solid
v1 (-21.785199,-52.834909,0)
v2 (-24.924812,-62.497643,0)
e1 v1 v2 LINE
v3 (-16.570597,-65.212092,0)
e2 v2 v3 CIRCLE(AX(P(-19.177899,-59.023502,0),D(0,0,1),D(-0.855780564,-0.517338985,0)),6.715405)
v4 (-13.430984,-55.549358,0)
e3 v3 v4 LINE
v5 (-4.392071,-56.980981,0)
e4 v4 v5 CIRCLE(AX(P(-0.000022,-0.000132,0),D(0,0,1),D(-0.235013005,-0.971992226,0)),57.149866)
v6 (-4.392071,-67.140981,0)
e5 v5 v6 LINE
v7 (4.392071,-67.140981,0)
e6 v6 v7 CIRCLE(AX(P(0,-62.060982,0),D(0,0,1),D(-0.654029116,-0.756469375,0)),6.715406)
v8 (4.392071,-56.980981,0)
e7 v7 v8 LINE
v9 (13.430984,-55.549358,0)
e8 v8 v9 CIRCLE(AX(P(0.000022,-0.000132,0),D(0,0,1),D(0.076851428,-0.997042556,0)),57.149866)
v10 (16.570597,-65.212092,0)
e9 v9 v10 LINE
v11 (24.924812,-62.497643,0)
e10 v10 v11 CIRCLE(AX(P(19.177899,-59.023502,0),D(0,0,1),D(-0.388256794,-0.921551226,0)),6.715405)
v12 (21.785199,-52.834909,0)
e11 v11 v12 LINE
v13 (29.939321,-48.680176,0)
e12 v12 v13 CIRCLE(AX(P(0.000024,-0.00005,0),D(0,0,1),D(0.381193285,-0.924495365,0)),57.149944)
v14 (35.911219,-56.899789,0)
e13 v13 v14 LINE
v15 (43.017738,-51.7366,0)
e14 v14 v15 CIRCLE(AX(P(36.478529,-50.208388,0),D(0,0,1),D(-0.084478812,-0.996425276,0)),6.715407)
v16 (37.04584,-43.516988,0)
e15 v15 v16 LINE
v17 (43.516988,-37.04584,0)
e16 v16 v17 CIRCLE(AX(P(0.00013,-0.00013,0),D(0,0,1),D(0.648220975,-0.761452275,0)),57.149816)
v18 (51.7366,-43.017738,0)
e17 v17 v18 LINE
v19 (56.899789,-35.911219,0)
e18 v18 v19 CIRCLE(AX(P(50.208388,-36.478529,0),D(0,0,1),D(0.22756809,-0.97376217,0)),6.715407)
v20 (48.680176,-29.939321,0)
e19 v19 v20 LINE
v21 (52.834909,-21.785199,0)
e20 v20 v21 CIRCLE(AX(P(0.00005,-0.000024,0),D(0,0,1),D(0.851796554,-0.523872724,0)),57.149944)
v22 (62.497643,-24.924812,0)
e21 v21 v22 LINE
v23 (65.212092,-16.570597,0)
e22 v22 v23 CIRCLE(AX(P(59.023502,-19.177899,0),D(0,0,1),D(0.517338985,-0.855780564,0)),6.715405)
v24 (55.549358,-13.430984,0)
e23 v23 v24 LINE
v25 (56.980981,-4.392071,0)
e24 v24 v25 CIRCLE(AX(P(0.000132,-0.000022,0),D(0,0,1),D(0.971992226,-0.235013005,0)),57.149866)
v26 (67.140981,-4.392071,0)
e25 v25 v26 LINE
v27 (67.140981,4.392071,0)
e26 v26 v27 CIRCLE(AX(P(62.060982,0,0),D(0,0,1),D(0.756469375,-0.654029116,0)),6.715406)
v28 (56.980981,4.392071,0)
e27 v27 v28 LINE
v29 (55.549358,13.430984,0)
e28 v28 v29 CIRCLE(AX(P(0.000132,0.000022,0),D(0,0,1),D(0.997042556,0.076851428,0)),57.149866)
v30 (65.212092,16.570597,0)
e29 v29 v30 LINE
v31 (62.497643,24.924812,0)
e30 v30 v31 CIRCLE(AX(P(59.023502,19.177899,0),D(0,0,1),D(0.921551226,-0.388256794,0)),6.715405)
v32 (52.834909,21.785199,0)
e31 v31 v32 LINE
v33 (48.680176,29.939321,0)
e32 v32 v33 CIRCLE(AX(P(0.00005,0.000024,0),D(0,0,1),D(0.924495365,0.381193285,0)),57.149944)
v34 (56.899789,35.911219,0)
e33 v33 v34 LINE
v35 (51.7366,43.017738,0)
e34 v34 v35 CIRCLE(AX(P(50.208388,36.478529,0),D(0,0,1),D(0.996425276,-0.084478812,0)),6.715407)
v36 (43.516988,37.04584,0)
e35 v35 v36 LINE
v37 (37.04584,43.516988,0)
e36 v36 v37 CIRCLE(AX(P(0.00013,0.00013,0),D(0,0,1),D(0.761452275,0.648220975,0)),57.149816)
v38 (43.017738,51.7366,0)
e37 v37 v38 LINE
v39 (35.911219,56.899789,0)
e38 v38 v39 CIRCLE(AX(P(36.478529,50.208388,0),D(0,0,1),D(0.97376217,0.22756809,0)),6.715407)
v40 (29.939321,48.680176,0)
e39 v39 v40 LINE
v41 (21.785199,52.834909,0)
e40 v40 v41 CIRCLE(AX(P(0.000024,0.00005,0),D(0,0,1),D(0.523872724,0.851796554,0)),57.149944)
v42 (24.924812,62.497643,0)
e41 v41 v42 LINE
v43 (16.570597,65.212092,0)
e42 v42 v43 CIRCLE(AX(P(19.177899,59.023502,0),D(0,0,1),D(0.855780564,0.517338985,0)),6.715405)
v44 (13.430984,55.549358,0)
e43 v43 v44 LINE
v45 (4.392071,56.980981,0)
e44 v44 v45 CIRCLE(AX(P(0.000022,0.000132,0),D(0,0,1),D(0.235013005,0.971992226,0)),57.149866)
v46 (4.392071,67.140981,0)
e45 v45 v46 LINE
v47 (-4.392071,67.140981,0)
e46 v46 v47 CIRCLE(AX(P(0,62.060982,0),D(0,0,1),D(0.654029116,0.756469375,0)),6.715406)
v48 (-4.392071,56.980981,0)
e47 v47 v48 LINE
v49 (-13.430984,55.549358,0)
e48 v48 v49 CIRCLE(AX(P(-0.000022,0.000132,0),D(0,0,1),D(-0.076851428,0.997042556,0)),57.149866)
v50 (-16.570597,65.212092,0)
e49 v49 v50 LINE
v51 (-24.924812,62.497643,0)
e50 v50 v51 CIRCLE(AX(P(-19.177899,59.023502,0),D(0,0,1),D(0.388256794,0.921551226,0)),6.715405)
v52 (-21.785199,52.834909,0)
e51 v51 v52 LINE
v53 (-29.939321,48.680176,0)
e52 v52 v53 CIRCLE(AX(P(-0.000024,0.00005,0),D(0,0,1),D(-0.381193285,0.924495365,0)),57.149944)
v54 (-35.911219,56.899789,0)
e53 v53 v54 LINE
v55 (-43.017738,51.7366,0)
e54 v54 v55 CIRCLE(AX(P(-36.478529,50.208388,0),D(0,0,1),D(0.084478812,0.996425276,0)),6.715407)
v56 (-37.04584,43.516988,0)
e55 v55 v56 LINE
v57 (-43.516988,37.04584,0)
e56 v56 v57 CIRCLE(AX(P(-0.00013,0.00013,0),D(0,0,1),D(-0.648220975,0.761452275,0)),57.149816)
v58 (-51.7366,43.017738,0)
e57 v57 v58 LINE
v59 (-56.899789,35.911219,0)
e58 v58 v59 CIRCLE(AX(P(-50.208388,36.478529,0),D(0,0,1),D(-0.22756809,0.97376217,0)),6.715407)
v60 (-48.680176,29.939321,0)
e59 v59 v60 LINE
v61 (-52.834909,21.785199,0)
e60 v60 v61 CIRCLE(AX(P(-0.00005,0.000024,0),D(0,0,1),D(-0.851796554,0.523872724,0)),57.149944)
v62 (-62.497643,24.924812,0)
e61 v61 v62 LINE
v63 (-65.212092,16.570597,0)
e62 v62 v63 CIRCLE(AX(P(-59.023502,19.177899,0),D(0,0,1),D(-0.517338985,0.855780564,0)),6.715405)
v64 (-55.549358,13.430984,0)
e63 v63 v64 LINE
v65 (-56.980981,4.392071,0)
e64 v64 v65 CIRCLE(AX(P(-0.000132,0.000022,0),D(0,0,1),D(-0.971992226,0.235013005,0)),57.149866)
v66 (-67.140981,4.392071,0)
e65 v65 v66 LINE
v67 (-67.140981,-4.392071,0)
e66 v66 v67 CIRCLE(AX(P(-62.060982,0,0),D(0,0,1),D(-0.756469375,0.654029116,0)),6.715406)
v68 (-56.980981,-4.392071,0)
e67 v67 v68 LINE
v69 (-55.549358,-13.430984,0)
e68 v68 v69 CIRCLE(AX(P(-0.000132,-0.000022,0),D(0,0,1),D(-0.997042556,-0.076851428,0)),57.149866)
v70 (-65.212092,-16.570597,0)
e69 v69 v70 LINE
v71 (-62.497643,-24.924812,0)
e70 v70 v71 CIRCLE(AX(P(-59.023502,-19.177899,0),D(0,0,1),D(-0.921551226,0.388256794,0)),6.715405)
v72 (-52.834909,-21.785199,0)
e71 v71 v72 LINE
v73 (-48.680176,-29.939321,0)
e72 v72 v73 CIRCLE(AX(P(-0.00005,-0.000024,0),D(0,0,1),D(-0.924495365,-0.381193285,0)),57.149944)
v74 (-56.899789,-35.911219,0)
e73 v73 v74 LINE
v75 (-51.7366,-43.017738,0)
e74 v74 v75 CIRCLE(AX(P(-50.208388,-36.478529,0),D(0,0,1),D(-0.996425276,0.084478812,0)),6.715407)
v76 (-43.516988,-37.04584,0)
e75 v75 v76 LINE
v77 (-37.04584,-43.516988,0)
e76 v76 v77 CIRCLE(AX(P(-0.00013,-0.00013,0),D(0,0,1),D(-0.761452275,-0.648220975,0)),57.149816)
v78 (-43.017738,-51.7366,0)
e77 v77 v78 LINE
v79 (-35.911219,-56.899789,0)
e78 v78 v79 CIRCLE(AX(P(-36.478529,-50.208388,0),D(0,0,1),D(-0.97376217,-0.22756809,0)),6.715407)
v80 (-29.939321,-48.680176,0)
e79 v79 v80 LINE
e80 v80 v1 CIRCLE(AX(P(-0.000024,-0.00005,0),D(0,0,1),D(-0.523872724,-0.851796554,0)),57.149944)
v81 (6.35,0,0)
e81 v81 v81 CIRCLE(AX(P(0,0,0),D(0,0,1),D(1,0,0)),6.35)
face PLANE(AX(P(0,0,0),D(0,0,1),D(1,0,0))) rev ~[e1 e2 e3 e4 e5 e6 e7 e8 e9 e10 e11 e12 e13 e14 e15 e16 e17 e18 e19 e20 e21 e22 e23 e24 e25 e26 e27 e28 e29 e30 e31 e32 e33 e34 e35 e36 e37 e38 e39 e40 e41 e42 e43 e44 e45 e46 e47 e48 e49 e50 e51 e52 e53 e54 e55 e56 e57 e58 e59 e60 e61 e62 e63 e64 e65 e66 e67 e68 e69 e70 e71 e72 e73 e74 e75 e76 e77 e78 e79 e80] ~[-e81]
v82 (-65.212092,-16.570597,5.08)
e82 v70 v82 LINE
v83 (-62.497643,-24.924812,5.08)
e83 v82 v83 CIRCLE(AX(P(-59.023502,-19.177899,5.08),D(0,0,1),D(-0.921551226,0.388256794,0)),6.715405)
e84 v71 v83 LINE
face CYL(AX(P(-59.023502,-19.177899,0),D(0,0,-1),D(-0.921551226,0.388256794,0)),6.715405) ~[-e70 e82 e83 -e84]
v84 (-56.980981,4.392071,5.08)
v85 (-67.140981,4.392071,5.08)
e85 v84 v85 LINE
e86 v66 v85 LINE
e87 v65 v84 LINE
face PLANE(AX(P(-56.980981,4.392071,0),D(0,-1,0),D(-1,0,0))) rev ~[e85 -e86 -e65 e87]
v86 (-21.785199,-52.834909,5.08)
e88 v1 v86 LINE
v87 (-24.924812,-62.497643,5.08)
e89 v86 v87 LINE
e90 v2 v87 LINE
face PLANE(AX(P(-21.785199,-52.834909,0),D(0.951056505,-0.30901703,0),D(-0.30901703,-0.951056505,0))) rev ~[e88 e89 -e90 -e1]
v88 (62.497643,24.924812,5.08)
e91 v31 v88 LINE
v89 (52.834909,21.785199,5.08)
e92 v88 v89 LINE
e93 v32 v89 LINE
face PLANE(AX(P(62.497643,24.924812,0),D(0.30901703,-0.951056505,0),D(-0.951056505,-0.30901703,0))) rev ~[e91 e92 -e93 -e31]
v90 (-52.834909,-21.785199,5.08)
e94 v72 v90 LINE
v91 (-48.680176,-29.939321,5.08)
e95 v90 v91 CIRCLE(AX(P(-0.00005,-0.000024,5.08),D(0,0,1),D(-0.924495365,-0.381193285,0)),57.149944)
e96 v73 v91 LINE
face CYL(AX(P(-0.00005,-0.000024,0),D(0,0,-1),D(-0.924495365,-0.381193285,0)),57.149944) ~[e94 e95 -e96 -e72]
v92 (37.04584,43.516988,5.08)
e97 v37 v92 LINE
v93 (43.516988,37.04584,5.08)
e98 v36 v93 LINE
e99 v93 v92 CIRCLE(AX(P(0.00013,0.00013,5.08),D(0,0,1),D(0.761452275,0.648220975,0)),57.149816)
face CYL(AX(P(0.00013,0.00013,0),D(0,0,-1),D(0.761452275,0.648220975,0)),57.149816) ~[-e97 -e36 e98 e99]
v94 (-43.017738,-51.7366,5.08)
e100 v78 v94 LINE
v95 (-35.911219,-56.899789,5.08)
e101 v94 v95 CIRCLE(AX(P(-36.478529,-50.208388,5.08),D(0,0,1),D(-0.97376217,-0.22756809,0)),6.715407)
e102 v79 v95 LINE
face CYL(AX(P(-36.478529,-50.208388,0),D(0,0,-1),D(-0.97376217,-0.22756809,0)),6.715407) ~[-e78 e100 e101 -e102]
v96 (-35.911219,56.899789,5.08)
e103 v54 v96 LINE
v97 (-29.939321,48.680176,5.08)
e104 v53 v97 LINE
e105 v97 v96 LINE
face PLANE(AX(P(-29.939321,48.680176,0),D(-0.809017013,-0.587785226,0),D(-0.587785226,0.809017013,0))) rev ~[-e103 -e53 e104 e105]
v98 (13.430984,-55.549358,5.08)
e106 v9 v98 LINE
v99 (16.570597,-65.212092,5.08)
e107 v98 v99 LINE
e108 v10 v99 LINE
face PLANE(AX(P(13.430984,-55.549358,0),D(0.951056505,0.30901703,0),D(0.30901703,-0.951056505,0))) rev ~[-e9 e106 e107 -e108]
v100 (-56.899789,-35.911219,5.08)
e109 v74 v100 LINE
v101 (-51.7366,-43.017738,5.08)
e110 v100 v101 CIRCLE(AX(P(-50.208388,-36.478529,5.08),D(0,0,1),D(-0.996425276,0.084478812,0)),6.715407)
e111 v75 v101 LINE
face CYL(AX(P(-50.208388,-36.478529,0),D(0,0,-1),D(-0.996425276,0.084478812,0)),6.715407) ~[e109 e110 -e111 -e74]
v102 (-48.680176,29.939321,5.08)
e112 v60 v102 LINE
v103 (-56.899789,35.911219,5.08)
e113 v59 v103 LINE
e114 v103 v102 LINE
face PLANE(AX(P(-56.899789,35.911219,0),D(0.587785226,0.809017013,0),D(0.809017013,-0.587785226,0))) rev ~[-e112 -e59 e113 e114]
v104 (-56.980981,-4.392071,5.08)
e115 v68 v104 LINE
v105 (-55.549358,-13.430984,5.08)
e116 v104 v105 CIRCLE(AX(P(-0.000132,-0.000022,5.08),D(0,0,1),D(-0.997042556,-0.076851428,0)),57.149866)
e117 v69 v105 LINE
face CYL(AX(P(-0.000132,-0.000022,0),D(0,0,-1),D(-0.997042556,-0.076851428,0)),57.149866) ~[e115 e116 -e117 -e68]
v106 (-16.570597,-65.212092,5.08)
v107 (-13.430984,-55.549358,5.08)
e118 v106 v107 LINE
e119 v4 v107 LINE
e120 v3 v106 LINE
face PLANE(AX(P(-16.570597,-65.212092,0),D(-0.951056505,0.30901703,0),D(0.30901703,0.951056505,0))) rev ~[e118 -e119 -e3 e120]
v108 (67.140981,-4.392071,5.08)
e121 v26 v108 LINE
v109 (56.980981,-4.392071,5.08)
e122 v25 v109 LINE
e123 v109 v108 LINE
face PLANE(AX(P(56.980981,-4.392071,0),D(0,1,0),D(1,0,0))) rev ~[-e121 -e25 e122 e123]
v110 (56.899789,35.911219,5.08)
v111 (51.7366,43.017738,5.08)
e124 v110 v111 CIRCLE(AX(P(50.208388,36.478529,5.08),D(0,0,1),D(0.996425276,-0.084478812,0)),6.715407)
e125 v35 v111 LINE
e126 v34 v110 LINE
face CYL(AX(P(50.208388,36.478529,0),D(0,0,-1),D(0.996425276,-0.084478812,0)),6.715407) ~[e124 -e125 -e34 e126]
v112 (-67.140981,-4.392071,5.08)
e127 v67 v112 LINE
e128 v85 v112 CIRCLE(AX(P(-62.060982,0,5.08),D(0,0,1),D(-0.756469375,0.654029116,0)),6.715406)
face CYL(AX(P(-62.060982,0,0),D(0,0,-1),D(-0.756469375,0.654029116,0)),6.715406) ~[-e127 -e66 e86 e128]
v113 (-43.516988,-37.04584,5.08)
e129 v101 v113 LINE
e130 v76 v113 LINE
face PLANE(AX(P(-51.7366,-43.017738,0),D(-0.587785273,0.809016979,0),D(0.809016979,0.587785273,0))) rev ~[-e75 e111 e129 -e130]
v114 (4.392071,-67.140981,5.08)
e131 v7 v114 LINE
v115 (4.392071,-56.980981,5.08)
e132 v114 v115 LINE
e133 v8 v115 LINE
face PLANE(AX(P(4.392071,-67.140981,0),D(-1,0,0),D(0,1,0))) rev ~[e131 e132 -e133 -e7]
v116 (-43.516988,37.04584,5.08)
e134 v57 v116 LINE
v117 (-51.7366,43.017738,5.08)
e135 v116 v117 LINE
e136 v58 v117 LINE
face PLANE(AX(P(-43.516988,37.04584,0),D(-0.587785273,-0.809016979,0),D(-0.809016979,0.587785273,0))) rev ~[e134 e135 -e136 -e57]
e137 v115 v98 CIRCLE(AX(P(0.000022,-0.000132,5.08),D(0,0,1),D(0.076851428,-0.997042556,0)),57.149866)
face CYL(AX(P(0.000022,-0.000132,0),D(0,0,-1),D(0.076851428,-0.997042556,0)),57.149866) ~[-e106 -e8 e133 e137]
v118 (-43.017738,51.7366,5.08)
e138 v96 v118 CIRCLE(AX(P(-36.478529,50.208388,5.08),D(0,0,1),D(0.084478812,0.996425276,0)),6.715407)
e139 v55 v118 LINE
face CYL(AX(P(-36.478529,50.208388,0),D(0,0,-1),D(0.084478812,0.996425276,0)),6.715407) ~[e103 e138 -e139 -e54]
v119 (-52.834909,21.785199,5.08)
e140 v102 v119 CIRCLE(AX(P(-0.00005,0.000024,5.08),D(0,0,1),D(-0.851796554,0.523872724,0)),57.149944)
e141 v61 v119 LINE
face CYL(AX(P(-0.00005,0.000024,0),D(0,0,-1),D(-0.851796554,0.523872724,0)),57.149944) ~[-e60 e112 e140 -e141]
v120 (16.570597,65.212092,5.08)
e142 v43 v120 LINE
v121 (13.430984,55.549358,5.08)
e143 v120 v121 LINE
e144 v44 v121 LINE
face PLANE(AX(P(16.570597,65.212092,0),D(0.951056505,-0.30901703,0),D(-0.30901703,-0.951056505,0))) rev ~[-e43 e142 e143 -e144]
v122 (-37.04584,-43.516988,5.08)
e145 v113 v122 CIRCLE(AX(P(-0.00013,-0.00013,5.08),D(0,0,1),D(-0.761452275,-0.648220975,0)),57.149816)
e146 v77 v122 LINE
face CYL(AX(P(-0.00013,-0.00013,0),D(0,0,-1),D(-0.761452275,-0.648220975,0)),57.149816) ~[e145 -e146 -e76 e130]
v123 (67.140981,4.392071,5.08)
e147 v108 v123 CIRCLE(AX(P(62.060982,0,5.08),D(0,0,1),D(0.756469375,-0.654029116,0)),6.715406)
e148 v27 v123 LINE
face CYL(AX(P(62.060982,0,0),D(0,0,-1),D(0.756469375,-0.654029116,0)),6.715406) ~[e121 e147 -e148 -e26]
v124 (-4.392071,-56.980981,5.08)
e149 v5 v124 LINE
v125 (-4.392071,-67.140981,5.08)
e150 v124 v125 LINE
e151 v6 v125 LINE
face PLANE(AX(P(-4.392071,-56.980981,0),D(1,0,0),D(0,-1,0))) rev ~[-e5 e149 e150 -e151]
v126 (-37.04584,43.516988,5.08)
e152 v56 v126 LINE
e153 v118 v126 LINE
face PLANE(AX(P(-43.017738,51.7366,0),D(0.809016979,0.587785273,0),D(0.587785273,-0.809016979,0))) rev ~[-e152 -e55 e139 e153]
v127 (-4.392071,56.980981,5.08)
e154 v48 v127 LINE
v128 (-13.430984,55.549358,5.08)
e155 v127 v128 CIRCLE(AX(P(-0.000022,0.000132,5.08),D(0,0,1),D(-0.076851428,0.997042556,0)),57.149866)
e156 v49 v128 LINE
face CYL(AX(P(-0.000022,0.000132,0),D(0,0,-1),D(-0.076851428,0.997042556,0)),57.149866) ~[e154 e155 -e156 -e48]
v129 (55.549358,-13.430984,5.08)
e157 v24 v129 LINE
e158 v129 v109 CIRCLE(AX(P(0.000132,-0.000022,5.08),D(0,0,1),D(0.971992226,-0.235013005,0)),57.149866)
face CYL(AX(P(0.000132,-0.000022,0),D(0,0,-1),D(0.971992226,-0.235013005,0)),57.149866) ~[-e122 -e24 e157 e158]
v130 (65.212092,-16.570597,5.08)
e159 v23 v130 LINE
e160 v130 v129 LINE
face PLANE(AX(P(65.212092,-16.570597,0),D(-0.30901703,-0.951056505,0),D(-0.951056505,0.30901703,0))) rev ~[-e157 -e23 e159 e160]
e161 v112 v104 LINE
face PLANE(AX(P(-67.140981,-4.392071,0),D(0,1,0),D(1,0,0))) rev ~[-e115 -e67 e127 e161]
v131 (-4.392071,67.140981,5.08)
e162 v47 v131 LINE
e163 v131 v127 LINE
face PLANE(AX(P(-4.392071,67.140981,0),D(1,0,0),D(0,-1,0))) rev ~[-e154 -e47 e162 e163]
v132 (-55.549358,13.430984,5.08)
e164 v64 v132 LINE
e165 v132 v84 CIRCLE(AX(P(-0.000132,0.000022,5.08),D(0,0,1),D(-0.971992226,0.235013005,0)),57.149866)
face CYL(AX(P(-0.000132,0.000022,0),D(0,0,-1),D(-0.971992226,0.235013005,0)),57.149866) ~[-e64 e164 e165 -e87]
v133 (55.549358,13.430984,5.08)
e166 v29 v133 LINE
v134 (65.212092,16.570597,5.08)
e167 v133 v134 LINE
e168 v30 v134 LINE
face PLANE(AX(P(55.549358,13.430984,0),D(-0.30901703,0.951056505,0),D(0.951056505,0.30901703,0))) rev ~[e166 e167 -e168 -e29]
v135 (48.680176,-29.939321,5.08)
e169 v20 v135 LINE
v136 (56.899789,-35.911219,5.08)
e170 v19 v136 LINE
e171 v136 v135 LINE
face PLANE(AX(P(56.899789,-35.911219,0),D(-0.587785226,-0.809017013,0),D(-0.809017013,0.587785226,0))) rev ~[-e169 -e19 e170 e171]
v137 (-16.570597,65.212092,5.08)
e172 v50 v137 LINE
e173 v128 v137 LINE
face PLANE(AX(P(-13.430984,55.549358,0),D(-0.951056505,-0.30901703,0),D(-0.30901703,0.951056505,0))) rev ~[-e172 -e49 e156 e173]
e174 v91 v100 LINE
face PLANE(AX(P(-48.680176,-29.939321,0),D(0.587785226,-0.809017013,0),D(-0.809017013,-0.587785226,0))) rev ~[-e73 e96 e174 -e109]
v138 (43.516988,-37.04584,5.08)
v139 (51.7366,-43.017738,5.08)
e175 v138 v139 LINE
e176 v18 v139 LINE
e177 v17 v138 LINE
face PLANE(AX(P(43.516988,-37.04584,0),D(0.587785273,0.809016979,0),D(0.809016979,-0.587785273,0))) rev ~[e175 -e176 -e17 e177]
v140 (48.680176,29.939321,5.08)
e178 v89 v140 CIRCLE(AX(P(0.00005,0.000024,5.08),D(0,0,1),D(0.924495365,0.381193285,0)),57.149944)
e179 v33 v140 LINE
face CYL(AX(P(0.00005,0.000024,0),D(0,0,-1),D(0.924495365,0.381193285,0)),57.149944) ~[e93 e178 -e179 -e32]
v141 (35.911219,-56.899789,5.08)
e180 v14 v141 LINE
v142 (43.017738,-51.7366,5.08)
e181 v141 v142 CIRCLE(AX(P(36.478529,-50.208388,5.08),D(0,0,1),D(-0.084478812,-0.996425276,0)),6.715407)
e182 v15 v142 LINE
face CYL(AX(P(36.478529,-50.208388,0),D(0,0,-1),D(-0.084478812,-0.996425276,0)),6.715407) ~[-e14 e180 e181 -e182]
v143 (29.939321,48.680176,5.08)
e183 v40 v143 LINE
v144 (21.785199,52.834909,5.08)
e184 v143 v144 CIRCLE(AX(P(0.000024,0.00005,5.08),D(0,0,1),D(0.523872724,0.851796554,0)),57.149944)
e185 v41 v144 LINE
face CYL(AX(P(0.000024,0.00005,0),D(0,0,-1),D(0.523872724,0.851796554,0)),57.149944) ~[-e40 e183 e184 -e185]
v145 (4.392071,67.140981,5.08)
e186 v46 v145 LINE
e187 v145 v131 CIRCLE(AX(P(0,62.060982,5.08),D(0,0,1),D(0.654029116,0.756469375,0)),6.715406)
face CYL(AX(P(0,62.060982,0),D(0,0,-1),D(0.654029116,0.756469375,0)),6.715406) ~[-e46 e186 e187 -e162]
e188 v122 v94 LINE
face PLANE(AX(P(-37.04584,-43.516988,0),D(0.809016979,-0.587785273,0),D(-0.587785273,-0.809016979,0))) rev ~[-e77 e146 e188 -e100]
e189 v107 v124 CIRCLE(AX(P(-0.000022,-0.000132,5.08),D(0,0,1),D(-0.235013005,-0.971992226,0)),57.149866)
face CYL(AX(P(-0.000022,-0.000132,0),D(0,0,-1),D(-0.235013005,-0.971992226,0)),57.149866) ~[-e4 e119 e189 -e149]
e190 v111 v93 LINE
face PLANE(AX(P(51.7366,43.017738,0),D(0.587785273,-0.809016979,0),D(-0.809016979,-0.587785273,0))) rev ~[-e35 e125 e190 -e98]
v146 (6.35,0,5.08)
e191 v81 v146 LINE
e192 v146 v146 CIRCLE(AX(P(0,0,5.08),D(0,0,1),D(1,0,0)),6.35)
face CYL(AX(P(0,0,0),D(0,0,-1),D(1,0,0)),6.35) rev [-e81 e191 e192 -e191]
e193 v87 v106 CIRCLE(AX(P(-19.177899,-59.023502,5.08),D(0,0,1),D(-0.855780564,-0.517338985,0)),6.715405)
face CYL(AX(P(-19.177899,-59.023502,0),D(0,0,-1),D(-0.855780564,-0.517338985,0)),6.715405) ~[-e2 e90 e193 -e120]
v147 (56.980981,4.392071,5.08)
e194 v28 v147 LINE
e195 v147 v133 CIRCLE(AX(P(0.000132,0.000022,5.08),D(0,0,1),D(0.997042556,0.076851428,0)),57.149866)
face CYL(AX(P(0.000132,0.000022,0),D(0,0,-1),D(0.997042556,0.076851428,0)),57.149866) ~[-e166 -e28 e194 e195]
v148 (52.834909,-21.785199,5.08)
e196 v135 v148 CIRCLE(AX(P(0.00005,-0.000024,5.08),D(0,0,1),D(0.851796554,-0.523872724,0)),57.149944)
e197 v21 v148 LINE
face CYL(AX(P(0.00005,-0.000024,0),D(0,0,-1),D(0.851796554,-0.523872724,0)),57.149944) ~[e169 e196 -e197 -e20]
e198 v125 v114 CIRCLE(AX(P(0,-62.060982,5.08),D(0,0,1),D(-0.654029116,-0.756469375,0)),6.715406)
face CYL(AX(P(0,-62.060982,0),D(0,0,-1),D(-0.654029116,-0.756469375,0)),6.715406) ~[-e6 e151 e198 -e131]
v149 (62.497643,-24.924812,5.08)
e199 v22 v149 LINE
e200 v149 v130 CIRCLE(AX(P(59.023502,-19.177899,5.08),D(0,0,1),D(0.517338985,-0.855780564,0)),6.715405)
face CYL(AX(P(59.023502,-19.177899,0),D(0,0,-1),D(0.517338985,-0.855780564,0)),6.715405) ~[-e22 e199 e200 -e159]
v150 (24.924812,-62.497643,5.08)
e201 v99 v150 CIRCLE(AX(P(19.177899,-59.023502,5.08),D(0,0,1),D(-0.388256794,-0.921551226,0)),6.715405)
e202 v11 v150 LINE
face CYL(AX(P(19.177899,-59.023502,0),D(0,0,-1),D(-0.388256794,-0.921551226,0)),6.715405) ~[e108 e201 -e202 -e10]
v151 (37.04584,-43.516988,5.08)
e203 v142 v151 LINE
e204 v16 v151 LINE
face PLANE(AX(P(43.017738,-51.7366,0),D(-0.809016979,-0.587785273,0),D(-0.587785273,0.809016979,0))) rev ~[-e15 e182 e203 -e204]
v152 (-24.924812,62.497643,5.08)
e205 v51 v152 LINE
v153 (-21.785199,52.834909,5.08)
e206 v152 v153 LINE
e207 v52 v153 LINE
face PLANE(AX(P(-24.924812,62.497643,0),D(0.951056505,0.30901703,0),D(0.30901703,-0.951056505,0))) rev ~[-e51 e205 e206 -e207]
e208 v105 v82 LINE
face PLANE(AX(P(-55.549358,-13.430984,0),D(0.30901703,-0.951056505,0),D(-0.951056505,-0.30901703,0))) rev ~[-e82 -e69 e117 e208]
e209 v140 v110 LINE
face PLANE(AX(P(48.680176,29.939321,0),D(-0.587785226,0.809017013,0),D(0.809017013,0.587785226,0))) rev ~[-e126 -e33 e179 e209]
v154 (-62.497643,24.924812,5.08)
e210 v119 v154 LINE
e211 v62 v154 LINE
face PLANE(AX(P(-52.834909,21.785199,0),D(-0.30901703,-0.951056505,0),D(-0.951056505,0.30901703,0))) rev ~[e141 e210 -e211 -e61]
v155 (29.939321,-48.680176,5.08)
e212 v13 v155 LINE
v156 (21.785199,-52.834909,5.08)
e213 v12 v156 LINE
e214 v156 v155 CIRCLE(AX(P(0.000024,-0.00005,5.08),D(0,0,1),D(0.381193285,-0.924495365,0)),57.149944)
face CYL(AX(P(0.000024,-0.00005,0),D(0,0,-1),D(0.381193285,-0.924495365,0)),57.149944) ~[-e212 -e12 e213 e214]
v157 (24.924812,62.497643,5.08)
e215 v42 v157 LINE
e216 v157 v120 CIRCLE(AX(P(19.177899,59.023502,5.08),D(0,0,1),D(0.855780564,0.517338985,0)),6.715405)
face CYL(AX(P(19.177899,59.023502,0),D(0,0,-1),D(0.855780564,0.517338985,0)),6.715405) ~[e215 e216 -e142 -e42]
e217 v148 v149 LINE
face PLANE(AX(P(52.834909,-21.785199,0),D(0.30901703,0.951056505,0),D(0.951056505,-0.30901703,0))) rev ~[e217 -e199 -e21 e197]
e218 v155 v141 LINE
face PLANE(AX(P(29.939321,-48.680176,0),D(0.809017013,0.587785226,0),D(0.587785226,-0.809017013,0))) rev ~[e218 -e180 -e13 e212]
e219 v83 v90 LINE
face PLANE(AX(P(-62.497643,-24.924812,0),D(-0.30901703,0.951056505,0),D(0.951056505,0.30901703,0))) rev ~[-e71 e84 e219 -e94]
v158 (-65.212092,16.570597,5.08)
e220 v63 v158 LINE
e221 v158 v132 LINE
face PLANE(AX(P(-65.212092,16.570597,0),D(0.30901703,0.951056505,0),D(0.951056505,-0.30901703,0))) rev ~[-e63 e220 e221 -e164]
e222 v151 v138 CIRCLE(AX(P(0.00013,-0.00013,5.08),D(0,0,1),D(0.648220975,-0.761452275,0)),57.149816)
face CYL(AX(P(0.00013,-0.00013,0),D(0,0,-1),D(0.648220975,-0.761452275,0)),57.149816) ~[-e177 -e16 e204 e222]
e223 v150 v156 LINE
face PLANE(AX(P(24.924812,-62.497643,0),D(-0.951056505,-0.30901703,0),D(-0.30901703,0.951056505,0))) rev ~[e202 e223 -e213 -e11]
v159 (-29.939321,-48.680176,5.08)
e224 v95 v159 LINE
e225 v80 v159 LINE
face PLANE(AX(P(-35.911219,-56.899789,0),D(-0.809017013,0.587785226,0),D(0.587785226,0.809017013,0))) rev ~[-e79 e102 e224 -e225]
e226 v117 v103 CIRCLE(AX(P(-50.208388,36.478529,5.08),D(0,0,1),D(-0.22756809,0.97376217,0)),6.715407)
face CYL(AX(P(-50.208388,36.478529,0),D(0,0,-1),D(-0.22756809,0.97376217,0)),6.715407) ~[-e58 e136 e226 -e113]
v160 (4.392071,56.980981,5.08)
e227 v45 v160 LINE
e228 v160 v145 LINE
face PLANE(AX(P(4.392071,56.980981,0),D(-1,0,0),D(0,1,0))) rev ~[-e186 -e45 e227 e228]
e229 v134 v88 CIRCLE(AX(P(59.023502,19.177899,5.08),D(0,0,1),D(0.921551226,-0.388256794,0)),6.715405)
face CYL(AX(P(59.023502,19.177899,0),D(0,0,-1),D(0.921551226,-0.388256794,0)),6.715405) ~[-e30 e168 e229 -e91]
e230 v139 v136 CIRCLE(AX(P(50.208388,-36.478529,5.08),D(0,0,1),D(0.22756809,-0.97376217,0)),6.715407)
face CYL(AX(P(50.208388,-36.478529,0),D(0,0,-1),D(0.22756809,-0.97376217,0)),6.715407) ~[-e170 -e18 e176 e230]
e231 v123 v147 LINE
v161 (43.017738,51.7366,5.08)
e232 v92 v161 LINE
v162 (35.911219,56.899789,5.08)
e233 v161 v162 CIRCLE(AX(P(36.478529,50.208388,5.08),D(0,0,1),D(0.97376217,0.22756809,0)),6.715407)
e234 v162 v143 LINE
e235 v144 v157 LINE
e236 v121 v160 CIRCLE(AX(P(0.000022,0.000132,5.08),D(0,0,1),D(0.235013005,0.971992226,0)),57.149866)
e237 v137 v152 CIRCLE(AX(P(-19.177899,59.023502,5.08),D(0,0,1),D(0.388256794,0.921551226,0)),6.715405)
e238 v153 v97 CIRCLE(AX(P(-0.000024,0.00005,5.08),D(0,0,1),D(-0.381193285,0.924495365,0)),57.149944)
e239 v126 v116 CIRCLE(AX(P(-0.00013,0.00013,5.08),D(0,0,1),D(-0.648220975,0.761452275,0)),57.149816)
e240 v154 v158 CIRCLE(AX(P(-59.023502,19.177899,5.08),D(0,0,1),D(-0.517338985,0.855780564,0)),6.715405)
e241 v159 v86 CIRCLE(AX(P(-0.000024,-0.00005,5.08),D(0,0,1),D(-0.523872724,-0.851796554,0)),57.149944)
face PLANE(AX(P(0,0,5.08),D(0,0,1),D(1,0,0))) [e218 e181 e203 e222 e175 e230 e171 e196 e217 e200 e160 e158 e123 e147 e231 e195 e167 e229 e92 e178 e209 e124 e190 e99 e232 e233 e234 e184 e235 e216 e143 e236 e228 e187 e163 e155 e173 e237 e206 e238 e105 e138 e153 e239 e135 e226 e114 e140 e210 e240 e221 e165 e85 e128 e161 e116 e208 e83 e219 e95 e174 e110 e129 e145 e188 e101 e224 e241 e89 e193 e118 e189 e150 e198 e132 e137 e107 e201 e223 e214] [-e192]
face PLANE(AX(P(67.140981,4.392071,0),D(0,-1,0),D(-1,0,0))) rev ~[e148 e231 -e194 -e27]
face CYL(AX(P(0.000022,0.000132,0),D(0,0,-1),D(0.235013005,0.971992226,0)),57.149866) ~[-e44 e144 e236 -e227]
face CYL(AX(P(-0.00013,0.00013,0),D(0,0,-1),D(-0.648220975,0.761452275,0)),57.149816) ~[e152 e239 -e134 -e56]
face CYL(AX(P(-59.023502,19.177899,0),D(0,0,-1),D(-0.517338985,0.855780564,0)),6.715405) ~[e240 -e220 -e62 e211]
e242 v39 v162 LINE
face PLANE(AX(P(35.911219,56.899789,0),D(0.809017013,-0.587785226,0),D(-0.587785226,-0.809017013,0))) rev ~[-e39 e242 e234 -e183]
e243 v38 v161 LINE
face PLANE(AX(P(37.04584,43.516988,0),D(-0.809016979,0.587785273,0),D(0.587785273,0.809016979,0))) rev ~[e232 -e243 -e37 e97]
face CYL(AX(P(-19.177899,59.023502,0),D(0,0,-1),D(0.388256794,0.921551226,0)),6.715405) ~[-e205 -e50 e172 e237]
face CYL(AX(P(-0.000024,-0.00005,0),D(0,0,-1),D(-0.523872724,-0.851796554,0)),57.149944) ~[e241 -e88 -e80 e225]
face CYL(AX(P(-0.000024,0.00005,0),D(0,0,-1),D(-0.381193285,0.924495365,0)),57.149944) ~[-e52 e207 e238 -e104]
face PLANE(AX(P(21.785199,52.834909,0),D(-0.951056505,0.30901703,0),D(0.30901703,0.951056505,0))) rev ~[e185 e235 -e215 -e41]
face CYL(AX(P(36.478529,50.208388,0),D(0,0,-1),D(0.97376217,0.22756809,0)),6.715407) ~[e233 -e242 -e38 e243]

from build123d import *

# Parameters (mm, degrees)
F0_R     = 6.35
F1_DEPTH = 5.08


with BuildPart() as f1:
    # F0 (on Top) → F1 (new body)
    with BuildSketch(Plane.XY):
        with BuildLine():
            Line((-4.392071, 67.140981), (-4.392071, 56.980981))
            ThreePointArc((-4.392071, 56.980981), (-8.94023, 56.446389), (-13.430984, 55.549358))
            Line((-13.430984, 55.549358), (-16.570597, 65.212092))
            ThreePointArc((-16.570597, 65.212092), (-21.253073, 65.410232), (-24.924812, 62.497643))
            Line((-24.924812, 62.497643), (-21.785199, 52.834909))
            ThreePointArc((-21.785199, 52.834909), (-25.945557, 50.921023), (-29.939321, 48.680176))
            Line((-29.939321, 48.680176), (-35.911219, 56.899789))
            ThreePointArc((-35.911219, 56.899789), (-40.425746, 55.641266), (-43.017738, 51.7366))
            Line((-43.017738, 51.7366), (-37.04584, 43.516988))
            ThreePointArc((-37.04584, 43.516988), (-40.411153, 40.411153), (-43.516988, 37.04584))
            Line((-43.516988, 37.04584), (-51.7366, 43.017738))
            ThreePointArc((-51.7366, 43.017738), (-55.641266, 40.425746), (-56.899789, 35.911219))
            Line((-56.899789, 35.911219), (-48.680176, 29.939321))
            ThreePointArc((-48.680176, 29.939321), (-50.921023, 25.945557), (-52.834909, 21.785199))
            Line((-52.834909, 21.785199), (-62.497643, 24.924812))
            ThreePointArc((-62.497643, 24.924812), (-65.410232, 21.253073), (-65.212092, 16.570597))
            Line((-65.212092, 16.570597), (-55.549358, 13.430984))
            ThreePointArc((-55.549358, 13.430984), (-56.446389, 8.94023), (-56.980981, 4.392071))
            Line((-56.980981, 4.392071), (-67.140981, 4.392071))
            ThreePointArc((-67.140981, 4.392071), (-68.776388, 0), (-67.140981, -4.392071))
            Line((-67.140981, -4.392071), (-56.980981, -4.392071))
            ThreePointArc((-56.980981, -4.392071), (-56.446389, -8.94023), (-55.549358, -13.430984))
            Line((-55.549358, -13.430984), (-65.212092, -16.570597))
            ThreePointArc((-65.212092, -16.570597), (-65.410232, -21.253073), (-62.497643, -24.924812))
            Line((-62.497643, -24.924812), (-52.834909, -21.785199))
            ThreePointArc((-52.834909, -21.785199), (-50.921023, -25.945557), (-48.680176, -29.939321))
            Line((-48.680176, -29.939321), (-56.899789, -35.911219))
            ThreePointArc((-56.899789, -35.911219), (-55.641266, -40.425746), (-51.7366, -43.017738))
            Line((-51.7366, -43.017738), (-43.516988, -37.04584))
            ThreePointArc((-43.516988, -37.04584), (-40.411153, -40.411153), (-37.04584, -43.516988))
            Line((-37.04584, -43.516988), (-43.017738, -51.7366))
            ThreePointArc((-43.017738, -51.7366), (-40.425746, -55.641266), (-35.911219, -56.899789))
            Line((-35.911219, -56.899789), (-29.939321, -48.680176))
            ThreePointArc((-29.939321, -48.680176), (-25.945557, -50.921023), (-21.785199, -52.834909))
            Line((-21.785199, -52.834909), (-24.924812, -62.497643))
            ThreePointArc((-24.924812, -62.497643), (-21.253073, -65.410232), (-16.570597, -65.212092))
            Line((-16.570597, -65.212092), (-13.430984, -55.549358))
            ThreePointArc((-13.430984, -55.549358), (-8.94023, -56.446389), (-4.392071, -56.980981))
            Line((-4.392071, -56.980981), (-4.392071, -67.140981))
            ThreePointArc((-4.392071, -67.140981), (0, -68.776388), (4.392071, -67.140981))
            Line((4.392071, -67.140981), (4.392071, -56.980981))
            ThreePointArc((4.392071, -56.980981), (8.94023, -56.446389), (13.430984, -55.549358))
            Line((13.430984, -55.549358), (16.570597, -65.212092))
            ThreePointArc((16.570597, -65.212092), (21.253073, -65.410232), (24.924812, -62.497643))
            Line((24.924812, -62.497643), (21.785199, -52.834909))
            ThreePointArc((21.785199, -52.834909), (25.945557, -50.921023), (29.939321, -48.680176))
            Line((29.939321, -48.680176), (35.911219, -56.899789))
            ThreePointArc((35.911219, -56.899789), (40.425746, -55.641266), (43.017738, -51.7366))
            Line((43.017738, -51.7366), (37.04584, -43.516988))
            ThreePointArc((37.04584, -43.516988), (40.411153, -40.411153), (43.516988, -37.04584))
            Line((43.516988, -37.04584), (51.7366, -43.017738))
            ThreePointArc((51.7366, -43.017738), (55.641266, -40.425746), (56.899789, -35.911219))
            Line((56.899789, -35.911219), (48.680176, -29.939321))
            ThreePointArc((48.680176, -29.939321), (50.921023, -25.945557), (52.834909, -21.785199))
            Line((52.834909, -21.785199), (62.497643, -24.924812))
            ThreePointArc((62.497643, -24.924812), (65.410232, -21.253073), (65.212092, -16.570597))
            Line((65.212092, -16.570597), (55.549358, -13.430984))
            ThreePointArc((55.549358, -13.430984), (56.446389, -8.94023), (56.980981, -4.392071))
            Line((56.980981, -4.392071), (67.140981, -4.392071))
            ThreePointArc((67.140981, -4.392071), (68.776388, 0), (67.140981, 4.392071))
            Line((67.140981, 4.392071), (56.980981, 4.392071))
            ThreePointArc((56.980981, 4.392071), (56.446389, 8.94023), (55.549358, 13.430984))
            Line((55.549358, 13.430984), (65.212092, 16.570597))
            ThreePointArc((65.212092, 16.570597), (65.410232, 21.253073), (62.497643, 24.924812))
            Line((62.497643, 24.924812), (52.834909, 21.785199))
            ThreePointArc((52.834909, 21.785199), (50.921023, 25.945557), (48.680176, 29.939321))
            Line((48.680176, 29.939321), (56.899789, 35.911219))
            ThreePointArc((56.899789, 35.911219), (55.641266, 40.425746), (51.7366, 43.017738))
            Line((51.7366, 43.017738), (43.516988, 37.04584))
            ThreePointArc((43.516988, 37.04584), (40.411153, 40.411153), (37.04584, 43.516988))
            Line((37.04584, 43.516988), (43.017738, 51.7366))
            ThreePointArc((43.017738, 51.7366), (40.425746, 55.641266), (35.911219, 56.899789))
            Line((35.911219, 56.899789), (29.939321, 48.680176))
            ThreePointArc((29.939321, 48.680176), (25.945557, 50.921023), (21.785199, 52.834909))
            Line((21.785199, 52.834909), (24.924812, 62.497643))
            ThreePointArc((24.924812, 62.497643), (21.253073, 65.410232), (16.570597, 65.212092))
            Line((16.570597, 65.212092), (13.430984, 55.549358))
            ThreePointArc((13.430984, 55.549358), (8.94023, 56.446389), (4.392071, 56.980981))
            Line((4.392071, 56.980981), (4.392071, 67.140981))
            ThreePointArc((4.392071, 67.140981), (0, 68.776388), (-4.392071, 67.140981))
        make_face()
        Circle(F0_R, mode=Mode.SUBTRACT)
    extrude(amount=F1_DEPTH)


solid = f1.part
